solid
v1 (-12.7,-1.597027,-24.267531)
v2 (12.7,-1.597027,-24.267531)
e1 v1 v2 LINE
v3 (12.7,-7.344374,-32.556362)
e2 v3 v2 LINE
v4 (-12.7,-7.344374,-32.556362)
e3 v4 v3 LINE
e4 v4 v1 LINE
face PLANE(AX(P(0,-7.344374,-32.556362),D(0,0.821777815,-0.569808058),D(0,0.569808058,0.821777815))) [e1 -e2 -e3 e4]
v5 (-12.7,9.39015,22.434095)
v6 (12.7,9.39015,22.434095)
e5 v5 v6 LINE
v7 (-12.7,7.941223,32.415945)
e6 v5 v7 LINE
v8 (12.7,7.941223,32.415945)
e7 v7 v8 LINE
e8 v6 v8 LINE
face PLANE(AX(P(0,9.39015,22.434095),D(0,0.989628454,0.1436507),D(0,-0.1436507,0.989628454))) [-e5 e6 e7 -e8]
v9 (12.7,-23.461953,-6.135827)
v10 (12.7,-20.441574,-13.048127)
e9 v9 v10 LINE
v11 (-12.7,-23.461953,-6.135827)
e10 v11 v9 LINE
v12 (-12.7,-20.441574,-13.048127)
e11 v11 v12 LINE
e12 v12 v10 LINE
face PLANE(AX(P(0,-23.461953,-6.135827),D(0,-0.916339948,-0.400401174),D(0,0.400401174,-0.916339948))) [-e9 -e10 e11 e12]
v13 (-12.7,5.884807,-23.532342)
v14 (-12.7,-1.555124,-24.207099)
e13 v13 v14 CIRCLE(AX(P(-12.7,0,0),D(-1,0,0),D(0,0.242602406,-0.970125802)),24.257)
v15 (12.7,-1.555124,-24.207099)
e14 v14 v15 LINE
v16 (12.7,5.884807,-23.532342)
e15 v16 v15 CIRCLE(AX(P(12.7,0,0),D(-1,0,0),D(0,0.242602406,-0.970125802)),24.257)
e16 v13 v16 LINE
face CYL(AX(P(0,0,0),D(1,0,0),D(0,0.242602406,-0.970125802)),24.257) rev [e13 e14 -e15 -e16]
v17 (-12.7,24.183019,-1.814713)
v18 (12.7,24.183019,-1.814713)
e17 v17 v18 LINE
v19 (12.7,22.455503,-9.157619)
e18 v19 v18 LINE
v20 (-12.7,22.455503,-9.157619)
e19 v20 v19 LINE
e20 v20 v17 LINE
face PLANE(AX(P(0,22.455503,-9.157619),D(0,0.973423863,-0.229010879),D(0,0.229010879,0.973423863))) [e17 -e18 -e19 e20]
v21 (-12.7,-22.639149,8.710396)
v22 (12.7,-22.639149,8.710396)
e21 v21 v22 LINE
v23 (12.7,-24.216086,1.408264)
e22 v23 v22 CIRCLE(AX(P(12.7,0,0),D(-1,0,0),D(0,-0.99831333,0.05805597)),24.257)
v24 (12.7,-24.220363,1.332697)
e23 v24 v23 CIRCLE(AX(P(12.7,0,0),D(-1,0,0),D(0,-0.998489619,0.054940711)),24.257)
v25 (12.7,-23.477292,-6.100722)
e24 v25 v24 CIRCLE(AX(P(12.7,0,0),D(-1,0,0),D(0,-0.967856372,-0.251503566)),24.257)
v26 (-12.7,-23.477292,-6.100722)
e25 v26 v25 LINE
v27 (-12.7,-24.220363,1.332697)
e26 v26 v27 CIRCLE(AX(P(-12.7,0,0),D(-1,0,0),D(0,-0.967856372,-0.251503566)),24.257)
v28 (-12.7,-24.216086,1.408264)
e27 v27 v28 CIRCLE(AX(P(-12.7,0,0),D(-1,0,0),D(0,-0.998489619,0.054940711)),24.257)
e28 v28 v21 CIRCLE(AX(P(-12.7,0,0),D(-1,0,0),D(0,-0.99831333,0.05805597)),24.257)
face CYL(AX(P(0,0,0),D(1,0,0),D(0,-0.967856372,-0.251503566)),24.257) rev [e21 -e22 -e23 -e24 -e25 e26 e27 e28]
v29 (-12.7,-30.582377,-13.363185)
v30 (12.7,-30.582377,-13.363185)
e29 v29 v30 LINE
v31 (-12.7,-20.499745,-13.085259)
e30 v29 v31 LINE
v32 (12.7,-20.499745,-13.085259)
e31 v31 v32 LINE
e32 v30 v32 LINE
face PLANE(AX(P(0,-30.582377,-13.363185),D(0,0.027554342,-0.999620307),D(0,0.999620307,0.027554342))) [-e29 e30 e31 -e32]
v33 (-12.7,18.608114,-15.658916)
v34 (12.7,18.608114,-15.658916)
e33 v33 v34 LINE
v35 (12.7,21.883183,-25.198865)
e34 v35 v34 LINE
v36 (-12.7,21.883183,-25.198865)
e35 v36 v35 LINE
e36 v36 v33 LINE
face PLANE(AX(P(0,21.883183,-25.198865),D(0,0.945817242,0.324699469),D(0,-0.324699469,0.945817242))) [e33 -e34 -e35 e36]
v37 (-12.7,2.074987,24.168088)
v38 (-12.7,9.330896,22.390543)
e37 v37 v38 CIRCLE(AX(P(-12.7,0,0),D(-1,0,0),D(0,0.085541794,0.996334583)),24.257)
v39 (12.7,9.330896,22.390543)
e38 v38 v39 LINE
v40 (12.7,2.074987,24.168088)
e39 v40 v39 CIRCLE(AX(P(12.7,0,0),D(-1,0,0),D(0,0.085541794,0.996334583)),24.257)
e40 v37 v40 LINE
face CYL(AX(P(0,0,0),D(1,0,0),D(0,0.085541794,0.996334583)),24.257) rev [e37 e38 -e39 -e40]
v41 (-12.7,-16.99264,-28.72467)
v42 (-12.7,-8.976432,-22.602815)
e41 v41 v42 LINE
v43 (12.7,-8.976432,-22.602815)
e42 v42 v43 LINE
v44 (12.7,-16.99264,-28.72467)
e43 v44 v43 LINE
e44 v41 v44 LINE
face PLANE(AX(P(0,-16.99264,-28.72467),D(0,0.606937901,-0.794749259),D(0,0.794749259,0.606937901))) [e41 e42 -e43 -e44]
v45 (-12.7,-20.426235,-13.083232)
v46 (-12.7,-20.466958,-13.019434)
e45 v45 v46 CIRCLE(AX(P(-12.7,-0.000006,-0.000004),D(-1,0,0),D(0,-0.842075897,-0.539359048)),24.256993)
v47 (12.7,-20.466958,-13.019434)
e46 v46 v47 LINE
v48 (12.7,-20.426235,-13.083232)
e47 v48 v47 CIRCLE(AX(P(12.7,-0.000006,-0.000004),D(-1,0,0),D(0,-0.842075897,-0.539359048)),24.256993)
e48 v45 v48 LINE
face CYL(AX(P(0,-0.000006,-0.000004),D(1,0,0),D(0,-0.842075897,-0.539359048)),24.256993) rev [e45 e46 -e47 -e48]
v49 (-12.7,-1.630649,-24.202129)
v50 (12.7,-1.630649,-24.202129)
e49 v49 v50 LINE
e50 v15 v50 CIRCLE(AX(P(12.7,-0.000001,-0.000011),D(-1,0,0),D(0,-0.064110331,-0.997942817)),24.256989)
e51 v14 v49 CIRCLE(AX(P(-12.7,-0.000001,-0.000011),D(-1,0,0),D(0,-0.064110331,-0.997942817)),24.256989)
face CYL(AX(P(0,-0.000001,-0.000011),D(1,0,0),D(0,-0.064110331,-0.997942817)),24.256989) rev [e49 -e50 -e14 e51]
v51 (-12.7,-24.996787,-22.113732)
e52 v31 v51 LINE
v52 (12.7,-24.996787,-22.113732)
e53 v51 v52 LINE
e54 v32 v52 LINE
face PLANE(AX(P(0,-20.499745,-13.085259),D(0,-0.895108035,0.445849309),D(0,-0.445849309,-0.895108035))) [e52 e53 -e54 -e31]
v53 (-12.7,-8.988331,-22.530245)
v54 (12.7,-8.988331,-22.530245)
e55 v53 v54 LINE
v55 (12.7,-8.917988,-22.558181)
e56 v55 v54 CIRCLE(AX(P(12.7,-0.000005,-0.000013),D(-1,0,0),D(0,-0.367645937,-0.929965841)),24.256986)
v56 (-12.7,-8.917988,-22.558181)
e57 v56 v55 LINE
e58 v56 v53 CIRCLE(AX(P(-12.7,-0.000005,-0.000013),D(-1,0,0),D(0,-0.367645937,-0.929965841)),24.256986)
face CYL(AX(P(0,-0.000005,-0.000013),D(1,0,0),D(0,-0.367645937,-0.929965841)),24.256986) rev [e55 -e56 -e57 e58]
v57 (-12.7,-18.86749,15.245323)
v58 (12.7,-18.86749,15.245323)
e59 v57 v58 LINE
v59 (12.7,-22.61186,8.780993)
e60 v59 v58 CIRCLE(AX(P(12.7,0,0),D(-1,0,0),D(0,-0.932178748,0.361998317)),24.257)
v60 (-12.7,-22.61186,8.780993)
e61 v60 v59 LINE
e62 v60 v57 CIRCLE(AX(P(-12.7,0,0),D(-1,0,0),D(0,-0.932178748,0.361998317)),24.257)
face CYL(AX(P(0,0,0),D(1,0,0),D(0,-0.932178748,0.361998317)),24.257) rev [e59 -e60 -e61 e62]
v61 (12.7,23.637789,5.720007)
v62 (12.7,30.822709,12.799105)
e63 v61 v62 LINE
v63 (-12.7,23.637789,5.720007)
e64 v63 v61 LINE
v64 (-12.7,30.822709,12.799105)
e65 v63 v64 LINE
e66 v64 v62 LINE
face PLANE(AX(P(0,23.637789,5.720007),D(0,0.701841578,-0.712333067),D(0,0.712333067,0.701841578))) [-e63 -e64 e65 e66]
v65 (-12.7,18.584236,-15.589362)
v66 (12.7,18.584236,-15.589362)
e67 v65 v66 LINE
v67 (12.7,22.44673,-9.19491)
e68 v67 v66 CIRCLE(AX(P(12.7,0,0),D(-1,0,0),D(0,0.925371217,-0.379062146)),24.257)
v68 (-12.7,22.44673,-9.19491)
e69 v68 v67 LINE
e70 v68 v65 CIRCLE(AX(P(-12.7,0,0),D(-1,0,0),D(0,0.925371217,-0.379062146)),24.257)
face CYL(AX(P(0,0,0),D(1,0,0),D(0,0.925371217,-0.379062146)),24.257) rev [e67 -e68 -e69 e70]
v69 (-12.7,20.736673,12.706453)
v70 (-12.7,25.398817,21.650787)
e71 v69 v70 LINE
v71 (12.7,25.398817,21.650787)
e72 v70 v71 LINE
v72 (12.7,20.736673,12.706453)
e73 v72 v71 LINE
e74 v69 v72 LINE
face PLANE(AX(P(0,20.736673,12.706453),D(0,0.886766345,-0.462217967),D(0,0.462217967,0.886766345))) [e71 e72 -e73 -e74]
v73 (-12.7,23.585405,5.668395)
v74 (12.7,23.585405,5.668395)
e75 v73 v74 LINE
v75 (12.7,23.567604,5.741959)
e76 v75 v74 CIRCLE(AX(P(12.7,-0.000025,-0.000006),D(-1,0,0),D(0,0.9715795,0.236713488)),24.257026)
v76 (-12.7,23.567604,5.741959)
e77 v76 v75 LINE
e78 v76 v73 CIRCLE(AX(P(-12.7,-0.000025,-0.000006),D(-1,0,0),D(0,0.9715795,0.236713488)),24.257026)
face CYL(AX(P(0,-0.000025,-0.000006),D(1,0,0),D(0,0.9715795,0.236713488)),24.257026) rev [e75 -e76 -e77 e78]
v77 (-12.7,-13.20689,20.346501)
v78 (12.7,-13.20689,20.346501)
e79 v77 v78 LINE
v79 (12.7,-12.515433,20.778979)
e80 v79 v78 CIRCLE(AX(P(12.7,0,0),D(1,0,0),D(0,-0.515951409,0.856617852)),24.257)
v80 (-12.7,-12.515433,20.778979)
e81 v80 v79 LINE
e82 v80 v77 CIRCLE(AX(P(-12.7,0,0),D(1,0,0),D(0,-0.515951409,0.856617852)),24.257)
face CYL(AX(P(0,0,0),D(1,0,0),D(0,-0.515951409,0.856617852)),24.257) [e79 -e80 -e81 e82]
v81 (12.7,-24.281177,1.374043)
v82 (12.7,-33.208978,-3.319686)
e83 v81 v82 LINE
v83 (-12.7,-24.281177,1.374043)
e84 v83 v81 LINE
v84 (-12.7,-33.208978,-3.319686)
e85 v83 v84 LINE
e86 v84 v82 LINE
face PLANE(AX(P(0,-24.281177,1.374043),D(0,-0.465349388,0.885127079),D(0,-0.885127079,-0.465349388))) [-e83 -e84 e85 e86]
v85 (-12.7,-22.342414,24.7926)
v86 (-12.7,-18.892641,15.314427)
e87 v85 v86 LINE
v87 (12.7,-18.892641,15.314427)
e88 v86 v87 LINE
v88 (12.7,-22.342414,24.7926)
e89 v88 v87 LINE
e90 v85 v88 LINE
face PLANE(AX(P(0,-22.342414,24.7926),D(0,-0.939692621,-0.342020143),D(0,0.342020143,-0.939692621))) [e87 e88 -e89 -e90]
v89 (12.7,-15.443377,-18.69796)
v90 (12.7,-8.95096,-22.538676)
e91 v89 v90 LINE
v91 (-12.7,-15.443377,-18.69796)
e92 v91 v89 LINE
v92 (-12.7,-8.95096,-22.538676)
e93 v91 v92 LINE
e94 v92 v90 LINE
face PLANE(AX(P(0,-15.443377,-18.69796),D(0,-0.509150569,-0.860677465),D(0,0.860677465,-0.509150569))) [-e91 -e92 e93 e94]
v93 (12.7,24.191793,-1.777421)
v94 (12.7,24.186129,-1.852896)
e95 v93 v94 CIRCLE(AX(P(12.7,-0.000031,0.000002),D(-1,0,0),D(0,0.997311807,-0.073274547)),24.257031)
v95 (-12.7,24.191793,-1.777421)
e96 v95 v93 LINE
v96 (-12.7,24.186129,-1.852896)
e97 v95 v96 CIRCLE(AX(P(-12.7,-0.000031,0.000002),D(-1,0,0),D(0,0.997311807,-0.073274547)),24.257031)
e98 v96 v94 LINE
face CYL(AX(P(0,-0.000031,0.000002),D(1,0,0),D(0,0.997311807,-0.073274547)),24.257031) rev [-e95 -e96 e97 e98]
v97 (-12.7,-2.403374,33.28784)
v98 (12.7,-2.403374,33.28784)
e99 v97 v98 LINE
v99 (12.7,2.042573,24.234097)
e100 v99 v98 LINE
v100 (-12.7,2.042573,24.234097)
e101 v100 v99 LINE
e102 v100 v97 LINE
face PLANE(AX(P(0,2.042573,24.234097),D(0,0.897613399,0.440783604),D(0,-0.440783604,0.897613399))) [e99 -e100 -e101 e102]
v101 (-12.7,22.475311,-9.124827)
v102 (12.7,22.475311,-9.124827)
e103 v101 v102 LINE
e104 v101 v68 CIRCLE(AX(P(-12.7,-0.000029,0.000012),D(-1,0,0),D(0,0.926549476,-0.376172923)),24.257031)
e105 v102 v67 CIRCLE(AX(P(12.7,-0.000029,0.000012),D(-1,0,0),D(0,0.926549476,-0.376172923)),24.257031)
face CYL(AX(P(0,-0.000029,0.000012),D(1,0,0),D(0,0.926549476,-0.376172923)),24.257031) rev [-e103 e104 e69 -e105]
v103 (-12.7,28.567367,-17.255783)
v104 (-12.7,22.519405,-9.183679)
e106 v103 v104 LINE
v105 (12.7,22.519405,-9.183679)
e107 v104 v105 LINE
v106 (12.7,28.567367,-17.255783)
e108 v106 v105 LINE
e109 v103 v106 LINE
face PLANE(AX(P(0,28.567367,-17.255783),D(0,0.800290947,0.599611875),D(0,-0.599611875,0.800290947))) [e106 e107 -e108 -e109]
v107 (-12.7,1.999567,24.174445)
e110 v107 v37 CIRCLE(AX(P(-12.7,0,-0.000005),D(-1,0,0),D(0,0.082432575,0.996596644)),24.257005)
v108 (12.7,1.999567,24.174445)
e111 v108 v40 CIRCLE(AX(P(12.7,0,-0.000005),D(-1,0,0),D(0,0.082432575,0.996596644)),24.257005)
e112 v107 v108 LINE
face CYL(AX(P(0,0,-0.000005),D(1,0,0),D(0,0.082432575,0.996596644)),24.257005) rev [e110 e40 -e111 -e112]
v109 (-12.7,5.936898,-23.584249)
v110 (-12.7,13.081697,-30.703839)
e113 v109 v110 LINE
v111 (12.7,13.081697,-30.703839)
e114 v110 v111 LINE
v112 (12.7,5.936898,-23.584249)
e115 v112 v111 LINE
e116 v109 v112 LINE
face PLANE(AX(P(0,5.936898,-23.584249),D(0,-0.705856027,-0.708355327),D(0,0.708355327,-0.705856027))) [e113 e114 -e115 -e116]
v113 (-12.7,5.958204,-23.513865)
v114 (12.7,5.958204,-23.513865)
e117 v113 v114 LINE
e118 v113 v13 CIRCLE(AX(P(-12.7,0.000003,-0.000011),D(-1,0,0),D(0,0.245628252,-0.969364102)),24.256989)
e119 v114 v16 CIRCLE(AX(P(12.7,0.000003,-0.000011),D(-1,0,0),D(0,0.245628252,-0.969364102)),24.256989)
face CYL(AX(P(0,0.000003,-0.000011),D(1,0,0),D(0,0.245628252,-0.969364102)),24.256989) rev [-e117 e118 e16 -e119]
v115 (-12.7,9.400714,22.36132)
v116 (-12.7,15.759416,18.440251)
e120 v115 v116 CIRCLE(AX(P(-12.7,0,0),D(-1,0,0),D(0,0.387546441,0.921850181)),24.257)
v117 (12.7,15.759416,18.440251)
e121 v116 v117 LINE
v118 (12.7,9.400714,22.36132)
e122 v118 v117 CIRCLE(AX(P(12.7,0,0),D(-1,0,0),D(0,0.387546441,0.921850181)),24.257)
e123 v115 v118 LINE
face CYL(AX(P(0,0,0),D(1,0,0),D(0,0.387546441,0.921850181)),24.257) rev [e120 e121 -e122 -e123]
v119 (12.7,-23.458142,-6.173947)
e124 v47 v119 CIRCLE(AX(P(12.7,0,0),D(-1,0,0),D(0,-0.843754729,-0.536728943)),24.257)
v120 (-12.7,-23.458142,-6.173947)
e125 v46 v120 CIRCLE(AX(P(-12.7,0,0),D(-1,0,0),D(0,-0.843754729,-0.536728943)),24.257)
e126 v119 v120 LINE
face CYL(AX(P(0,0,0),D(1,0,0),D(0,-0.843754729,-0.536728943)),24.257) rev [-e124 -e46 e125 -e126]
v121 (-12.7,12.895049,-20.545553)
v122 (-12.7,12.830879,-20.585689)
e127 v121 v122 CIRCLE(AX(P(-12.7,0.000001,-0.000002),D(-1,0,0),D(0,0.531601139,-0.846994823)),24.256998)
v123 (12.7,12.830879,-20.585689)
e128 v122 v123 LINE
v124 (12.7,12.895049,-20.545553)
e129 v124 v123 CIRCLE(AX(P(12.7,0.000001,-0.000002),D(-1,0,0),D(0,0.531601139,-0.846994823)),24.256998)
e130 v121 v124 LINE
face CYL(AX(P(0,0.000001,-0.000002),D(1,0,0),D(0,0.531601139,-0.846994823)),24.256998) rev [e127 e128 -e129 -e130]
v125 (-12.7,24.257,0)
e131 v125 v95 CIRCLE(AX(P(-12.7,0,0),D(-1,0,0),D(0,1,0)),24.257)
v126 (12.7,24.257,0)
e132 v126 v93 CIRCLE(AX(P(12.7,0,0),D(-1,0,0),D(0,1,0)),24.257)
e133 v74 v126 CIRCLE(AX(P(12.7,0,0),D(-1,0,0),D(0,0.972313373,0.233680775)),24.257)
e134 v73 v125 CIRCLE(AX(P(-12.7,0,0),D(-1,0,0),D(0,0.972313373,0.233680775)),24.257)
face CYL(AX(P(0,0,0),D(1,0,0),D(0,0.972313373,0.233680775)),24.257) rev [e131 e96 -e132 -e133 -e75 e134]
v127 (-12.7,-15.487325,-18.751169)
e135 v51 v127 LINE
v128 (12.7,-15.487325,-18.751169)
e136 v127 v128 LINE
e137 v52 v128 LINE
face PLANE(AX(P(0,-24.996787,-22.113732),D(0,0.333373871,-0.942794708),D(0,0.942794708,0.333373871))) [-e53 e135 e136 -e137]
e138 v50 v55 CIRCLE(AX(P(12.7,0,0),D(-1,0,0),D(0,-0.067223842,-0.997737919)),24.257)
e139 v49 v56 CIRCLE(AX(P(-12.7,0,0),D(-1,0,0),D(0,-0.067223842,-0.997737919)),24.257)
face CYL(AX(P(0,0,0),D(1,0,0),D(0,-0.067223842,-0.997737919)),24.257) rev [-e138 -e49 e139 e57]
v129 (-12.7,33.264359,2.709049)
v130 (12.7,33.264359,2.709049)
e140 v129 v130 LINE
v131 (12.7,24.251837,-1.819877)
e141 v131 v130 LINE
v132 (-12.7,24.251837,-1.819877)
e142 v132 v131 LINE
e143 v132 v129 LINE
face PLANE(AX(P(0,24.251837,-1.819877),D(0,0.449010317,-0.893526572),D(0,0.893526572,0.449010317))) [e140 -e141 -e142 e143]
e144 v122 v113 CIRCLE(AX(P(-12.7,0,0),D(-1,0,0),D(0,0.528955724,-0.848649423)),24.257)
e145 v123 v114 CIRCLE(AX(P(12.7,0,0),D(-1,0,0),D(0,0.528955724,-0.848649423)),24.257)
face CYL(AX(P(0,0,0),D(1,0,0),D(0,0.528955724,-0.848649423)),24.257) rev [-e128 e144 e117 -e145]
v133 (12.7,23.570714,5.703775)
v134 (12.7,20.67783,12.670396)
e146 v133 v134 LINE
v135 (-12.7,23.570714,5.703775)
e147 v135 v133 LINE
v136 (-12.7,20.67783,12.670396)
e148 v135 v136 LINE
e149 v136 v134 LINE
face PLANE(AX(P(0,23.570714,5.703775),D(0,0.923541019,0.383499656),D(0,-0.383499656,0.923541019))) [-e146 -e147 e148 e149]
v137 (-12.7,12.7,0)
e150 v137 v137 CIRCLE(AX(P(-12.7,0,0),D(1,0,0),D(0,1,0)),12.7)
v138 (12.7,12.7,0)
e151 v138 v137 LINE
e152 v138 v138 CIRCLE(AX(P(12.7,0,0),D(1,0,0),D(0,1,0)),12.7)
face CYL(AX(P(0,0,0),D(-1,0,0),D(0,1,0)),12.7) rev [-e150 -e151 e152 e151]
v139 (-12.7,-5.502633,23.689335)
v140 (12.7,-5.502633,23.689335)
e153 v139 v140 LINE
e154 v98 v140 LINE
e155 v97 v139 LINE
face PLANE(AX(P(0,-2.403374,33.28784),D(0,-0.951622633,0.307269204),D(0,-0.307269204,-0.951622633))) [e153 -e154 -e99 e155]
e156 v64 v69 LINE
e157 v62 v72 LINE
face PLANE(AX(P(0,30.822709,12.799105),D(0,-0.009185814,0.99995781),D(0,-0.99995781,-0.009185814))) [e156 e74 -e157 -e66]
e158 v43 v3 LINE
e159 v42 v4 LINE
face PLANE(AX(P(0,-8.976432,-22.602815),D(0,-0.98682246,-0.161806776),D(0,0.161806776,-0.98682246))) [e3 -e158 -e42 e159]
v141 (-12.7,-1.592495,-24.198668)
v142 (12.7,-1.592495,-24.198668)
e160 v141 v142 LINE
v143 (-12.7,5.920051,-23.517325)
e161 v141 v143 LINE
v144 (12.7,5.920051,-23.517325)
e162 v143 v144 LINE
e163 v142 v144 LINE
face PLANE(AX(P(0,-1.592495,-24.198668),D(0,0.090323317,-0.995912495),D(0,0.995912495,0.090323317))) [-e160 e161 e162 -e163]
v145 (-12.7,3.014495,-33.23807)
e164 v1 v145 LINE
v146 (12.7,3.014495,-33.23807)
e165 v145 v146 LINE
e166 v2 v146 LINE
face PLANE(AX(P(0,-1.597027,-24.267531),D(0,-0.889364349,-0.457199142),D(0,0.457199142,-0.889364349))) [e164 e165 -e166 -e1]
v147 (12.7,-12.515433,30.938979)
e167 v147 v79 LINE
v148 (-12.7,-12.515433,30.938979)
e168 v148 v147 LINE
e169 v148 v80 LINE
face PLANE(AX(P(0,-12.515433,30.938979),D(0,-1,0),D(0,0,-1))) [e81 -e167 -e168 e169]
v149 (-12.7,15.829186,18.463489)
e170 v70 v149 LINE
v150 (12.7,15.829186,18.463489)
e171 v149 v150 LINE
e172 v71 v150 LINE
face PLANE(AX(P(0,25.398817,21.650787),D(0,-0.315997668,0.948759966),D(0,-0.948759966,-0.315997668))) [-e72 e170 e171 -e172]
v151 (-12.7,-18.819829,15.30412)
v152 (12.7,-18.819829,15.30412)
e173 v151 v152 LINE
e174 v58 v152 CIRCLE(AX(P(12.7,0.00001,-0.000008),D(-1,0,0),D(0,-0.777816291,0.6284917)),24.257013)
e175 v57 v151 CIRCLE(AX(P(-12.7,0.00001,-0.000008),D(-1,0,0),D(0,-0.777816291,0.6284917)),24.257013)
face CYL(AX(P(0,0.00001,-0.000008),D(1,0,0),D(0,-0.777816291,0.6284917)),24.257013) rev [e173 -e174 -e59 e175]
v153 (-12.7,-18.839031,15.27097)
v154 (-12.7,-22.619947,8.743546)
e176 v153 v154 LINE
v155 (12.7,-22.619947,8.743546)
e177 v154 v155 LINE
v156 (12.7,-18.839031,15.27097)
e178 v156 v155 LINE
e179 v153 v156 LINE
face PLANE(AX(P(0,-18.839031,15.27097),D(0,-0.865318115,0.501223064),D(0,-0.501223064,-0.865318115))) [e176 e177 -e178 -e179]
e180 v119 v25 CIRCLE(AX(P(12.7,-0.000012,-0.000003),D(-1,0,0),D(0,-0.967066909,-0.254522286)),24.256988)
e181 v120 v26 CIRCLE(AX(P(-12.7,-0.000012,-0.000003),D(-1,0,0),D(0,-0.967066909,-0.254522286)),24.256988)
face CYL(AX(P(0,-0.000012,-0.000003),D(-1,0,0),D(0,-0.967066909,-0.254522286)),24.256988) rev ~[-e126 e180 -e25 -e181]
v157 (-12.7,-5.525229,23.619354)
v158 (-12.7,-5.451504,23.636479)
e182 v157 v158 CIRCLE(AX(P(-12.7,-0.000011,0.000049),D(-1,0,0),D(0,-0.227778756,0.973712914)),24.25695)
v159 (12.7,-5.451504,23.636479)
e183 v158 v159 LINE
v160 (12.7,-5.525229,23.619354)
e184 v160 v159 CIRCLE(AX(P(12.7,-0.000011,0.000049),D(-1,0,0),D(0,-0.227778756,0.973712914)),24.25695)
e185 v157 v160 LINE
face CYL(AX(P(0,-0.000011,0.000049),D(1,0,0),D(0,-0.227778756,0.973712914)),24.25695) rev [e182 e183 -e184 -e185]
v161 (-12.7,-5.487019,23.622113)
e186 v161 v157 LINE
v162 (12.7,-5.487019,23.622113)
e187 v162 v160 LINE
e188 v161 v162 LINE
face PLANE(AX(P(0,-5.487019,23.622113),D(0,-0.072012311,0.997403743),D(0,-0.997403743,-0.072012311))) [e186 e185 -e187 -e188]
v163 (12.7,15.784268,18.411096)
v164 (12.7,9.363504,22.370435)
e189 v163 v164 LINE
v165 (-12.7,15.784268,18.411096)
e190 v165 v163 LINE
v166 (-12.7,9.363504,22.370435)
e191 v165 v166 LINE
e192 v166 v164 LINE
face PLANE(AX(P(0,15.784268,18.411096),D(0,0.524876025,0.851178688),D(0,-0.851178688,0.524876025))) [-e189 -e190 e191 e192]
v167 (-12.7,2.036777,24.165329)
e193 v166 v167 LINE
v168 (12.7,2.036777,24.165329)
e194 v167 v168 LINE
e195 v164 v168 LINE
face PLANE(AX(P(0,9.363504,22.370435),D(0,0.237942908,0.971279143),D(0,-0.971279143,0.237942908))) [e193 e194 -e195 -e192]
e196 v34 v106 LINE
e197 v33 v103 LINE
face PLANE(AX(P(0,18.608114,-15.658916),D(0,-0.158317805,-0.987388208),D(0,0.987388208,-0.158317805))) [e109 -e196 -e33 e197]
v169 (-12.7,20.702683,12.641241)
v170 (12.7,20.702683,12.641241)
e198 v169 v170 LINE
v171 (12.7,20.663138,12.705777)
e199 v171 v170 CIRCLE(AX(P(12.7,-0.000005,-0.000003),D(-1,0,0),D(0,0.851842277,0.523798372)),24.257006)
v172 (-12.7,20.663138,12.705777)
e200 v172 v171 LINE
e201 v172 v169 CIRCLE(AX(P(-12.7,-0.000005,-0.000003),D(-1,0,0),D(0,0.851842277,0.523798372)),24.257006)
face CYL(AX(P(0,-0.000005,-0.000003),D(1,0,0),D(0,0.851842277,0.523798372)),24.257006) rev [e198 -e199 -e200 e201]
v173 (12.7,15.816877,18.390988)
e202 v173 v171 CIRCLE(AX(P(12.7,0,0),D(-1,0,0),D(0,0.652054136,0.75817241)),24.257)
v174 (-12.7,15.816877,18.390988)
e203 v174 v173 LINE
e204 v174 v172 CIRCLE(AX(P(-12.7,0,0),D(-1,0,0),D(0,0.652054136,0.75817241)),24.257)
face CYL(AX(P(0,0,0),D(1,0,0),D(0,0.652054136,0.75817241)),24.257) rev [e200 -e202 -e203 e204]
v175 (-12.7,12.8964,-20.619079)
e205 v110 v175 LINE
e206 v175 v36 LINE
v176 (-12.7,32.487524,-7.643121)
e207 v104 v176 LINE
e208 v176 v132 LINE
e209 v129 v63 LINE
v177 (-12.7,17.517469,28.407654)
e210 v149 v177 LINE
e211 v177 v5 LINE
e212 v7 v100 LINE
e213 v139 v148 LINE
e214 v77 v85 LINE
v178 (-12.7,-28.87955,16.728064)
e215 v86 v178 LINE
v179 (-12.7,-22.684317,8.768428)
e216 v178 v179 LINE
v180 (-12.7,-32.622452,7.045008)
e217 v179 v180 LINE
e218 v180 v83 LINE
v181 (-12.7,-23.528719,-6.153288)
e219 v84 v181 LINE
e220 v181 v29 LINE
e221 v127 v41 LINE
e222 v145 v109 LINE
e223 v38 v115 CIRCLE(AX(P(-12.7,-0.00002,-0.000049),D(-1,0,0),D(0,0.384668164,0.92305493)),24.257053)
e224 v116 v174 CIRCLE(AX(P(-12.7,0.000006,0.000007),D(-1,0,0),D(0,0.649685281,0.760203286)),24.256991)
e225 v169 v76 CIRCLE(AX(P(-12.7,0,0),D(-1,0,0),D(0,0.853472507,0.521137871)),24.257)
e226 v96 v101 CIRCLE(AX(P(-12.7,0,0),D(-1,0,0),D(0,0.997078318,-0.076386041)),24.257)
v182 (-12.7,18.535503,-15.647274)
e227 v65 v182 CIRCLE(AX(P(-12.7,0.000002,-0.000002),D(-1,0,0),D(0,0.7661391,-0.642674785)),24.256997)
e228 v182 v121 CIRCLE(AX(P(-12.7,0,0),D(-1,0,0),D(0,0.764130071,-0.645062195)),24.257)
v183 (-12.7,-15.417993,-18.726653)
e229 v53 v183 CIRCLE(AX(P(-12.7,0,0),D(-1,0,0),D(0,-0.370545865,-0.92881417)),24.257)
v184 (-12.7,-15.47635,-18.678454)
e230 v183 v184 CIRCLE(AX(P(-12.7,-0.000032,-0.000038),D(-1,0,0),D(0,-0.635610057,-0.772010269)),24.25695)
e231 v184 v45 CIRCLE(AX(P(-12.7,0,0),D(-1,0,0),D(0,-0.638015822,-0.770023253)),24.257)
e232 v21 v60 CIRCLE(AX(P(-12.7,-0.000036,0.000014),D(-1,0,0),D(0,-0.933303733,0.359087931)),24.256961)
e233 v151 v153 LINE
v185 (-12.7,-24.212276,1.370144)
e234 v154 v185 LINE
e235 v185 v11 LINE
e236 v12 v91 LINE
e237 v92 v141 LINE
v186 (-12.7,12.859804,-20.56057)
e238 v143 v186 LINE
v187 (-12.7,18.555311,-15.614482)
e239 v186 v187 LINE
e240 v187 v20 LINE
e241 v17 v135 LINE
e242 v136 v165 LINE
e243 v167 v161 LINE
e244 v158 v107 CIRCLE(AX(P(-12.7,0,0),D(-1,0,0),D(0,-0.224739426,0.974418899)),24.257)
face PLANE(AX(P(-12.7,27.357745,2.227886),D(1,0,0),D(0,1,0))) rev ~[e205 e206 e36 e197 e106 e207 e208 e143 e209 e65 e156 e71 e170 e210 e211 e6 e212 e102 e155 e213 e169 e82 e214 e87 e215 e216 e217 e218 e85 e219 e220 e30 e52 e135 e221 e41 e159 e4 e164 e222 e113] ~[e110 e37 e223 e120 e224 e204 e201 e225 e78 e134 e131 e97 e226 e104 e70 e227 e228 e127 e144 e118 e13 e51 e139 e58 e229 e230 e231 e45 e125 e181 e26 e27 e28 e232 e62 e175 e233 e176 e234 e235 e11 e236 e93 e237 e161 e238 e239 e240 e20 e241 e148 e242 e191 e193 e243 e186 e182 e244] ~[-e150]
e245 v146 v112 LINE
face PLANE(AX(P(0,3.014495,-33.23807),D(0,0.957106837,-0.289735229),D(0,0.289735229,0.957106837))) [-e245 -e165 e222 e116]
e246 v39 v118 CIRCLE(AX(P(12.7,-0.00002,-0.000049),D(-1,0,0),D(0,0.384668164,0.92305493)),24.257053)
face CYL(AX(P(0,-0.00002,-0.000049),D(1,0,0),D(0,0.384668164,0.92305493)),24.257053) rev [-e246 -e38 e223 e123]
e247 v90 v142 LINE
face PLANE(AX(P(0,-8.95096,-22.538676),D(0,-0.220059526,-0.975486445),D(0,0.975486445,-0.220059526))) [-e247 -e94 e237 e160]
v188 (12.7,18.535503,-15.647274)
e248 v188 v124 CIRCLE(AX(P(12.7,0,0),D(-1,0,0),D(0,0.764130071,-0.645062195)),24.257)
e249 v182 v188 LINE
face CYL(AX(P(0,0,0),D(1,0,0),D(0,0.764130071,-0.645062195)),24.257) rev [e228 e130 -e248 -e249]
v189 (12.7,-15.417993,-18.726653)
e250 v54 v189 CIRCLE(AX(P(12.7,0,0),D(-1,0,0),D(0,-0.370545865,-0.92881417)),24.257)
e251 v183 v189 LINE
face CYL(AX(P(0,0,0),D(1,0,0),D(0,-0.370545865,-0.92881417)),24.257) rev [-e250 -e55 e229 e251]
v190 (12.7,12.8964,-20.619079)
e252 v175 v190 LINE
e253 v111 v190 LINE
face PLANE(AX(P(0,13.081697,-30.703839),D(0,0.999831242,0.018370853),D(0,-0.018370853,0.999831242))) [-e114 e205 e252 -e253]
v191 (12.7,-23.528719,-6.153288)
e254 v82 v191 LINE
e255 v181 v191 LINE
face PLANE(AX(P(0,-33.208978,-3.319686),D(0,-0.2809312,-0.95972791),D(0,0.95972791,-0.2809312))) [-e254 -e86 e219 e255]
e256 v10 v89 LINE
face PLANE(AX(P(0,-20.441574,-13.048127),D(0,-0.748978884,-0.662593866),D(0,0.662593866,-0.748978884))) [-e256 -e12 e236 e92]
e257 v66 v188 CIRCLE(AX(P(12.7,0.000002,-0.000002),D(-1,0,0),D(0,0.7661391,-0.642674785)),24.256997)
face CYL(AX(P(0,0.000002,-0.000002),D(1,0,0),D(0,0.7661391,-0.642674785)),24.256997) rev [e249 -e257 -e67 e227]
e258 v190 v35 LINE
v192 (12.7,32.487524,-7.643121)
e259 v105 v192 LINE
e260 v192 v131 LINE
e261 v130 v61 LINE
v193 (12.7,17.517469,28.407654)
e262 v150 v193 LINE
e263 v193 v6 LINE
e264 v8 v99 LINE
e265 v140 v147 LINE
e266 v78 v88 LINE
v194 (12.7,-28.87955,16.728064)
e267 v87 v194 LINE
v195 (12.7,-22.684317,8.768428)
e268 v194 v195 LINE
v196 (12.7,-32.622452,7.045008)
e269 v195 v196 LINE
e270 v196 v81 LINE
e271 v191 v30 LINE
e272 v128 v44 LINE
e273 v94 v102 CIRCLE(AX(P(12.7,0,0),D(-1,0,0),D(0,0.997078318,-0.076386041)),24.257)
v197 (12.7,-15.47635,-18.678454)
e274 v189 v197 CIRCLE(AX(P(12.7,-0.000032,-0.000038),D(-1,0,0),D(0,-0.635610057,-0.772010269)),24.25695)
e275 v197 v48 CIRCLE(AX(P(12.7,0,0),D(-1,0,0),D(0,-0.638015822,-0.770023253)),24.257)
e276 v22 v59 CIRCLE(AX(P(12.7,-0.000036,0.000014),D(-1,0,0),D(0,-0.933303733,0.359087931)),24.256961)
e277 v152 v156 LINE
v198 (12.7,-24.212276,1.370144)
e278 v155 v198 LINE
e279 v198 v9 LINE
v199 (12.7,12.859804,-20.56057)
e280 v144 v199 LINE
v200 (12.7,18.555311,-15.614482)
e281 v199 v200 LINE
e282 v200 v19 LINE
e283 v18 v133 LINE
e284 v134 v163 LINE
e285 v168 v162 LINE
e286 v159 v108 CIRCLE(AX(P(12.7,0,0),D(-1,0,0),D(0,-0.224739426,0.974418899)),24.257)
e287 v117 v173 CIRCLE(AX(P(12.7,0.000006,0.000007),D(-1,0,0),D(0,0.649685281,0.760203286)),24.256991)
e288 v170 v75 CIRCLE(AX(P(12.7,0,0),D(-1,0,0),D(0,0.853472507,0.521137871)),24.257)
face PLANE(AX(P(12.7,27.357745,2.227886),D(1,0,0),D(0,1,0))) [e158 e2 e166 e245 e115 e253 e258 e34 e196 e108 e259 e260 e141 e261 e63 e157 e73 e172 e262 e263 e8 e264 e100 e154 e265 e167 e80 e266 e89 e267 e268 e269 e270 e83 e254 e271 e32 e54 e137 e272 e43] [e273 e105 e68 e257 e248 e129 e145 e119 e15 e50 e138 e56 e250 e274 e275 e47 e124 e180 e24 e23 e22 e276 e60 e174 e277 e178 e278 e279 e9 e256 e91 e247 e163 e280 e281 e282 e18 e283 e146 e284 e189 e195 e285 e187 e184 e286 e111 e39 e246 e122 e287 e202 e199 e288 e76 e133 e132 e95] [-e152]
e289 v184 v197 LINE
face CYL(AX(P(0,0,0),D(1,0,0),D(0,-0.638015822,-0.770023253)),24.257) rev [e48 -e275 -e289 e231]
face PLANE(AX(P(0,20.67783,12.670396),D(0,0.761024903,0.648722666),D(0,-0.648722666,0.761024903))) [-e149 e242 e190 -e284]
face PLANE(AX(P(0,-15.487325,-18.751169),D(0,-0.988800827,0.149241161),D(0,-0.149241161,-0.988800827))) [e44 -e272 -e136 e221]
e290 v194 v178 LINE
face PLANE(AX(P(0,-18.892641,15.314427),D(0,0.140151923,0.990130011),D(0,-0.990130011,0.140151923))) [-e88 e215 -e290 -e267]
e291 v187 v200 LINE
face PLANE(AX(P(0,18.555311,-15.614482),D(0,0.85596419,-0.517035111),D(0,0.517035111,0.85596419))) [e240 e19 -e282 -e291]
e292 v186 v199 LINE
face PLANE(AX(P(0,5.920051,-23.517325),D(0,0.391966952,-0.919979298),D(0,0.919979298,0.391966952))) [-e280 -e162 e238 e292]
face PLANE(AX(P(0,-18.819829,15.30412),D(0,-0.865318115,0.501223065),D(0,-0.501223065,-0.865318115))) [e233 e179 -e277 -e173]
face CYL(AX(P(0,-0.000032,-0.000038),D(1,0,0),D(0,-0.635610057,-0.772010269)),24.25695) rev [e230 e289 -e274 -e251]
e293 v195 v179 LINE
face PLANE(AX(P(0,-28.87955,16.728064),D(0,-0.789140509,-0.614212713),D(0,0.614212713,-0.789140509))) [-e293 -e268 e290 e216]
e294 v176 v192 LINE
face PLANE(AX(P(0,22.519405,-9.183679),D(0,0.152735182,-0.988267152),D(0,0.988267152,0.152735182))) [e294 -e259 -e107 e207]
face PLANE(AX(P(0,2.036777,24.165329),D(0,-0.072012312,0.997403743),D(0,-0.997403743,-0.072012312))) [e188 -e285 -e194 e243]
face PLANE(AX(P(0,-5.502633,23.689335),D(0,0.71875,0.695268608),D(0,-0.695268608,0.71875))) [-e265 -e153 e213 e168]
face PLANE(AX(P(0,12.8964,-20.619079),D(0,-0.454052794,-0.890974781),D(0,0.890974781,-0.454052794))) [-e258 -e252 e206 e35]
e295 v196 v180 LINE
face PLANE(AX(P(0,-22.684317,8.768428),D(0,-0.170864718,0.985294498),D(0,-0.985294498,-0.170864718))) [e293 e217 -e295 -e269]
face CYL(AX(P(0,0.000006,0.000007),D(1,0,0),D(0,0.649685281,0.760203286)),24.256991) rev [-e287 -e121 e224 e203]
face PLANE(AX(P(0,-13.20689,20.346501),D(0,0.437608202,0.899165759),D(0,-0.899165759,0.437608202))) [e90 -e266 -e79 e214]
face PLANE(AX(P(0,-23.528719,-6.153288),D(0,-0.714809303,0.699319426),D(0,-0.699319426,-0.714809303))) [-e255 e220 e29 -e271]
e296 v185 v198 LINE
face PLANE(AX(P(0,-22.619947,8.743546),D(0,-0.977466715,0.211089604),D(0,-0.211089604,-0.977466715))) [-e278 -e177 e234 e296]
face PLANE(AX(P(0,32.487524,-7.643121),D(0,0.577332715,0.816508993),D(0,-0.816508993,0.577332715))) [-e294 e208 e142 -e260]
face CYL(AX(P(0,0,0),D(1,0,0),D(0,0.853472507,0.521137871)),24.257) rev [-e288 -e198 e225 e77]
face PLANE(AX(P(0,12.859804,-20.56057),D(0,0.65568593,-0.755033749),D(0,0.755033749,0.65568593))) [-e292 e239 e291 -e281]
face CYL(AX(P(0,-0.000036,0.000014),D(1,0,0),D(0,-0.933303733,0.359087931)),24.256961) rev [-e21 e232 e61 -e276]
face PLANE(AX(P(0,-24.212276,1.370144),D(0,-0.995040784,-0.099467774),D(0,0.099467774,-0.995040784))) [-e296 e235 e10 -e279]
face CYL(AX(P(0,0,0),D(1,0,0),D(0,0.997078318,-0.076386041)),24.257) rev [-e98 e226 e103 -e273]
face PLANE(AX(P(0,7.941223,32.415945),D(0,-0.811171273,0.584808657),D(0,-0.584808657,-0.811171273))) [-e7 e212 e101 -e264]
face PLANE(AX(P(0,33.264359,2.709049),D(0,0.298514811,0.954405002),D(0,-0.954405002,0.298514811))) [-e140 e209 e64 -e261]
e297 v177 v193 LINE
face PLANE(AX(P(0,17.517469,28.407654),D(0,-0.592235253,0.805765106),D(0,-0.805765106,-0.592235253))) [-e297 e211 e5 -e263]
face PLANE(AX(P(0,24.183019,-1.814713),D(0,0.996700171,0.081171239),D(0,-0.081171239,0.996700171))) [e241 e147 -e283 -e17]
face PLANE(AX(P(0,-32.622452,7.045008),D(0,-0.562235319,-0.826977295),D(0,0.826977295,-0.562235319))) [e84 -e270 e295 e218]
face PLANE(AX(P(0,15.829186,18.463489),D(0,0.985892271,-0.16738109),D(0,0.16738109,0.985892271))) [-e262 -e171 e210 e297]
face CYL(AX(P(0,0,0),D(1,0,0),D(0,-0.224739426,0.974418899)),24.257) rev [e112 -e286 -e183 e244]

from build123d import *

# Parameters (mm, degrees)
F0_R     = 12.7
F1_DEPTH = 12.7


with BuildPart() as f1:
    # F0 (on Right) → F1 (new body, symmetric)
    with BuildSketch(Plane.YZ):
        with BuildLine():
            ThreePointArc((23.5854054871, 5.6683945708), (24.0885162463, 2.8540206814), (24.257, 0))
            ThreePointArc((24.257, 0), (24.2406926461, -0.8893081786), (24.1917925105, -1.7774206395))
            Line((24.1917925105, -1.7774206395), (24.2518372175, -1.8198767227))
            Line((24.2518372175, -1.8198767227), (33.2643587406, 2.7090486284))
            Line((33.2643587406, 2.7090486284), (23.6377892706, 5.7200068277))
            Line((23.6377892706, 5.7200068277), (23.5854054871, 5.6683945708))
        make_face()
        with BuildLine():
            ThreePointArc((23.5676039215, 5.7419591081), (23.5765333967, 5.7051837826), (23.5854054871, 5.6683945708))
            Line((23.5854054871, 5.6683945708), (23.6377892706, 5.7200068277))
            Line((23.6377892706, 5.7200068277), (23.5676039215, 5.7419591081))
        make_face()
        with BuildLine():
            Line((24.2518372175, -1.8198767227), (24.1917925105, -1.7774206395))
            ThreePointArc((24.1917925105, -1.7774206395), (24.1889900762, -1.8151606243), (24.1861287664, -1.8528961911))
            Line((24.1861287664, -1.8528961911), (24.2518372175, -1.8198767227))
        make_face()
        with BuildLine():
            ThreePointArc((20.7026825957, 12.6412413291), (22.402334496, 9.3025511624), (23.5676039215, 5.7419591081))
            Line((23.5676039215, 5.7419591081), (23.6377892706, 5.7200068277))
            Line((23.6377892706, 5.7200068277), (30.8227094509, 12.7991050077))
            Line((30.8227094509, 12.7991050077), (20.7366733326, 12.7064526444))
            Line((20.7366733326, 12.7064526444), (20.7026825957, 12.6412413291))
        make_face()
        with BuildLine():
            Line((24.1830190921, -1.814712557), (23.5707135958, 5.7037754741))
            Line((23.5707135958, 5.7037754741), (20.6778299975, 12.6703962317))
            Line((20.6778299975, 12.6703962317), (15.7842684775, 18.4110961842))
            Line((15.7842684775, 18.4110961842), (9.3635042744, 22.37043544))
            Line((9.3635042744, 22.37043544), (2.0367767147, 24.1653291864))
            Line((2.0367767147, 24.1653291864), (-5.4870186323, 23.622112958))
            Line((-5.4870186323, 23.622112958), (-12.5154333238, 20.778979227))
            ThreePointArc((-12.5154333238, 20.778979227), (-12.8629795573, 20.5656462556), (-13.2068903428, 20.346500841))
            Line((-13.2068903428, 20.346500841), (-18.839030758, 15.270969654))
            Line((-18.839030758, 15.270969654), (-22.6199467454, 8.7435463805))
            Line((-22.6199467454, 8.7435463805), (-24.2122758236, 1.370143611))
            Line((-24.2122758236, 1.370143611), (-23.4619526177, -6.1358270378))
            Line((-23.4619526177, -6.1358270378), (-20.4415744492, -13.0481273795))
            Line((-20.4415744492, -13.0481273795), (-15.4433772015, -18.6979596396))
            Line((-15.4433772015, -18.6979596396), (-8.9509601151, -22.5386758061))
            Line((-8.9509601151, -22.5386758061), (-1.5924952722, -24.1986684113))
            Line((-1.5924952722, -24.1986684113), (5.9200510257, -23.517325314))
            Line((5.9200510257, -23.517325314), (12.859804367, -20.5605696837))
            Line((12.859804367, -20.5605696837), (18.5553107694, -15.614481622))
            Line((18.5553107694, -15.614481622), (22.4555030315, -9.1576185591))
            Line((22.4555030315, -9.1576185591), (24.1830190921, -1.814712557))
        make_face()
        Circle(F0_R, mode=Mode.SUBTRACT)
        with BuildLine():
            Line((24.2518372175, -1.8198767227), (24.1861287664, -1.8528961911))
            ThreePointArc((24.1861287664, -1.8528961911), (23.6123426483, -5.5551168898), (22.4753106729, -9.1248265276))
            Line((22.4753106729, -9.1248265276), (22.5194051282, -9.1836785866))
            Line((22.5194051282, -9.1836785866), (32.4875238799, -7.6431210279))
            Line((32.4875238799, -7.6431210279), (24.2518372175, -1.8198767227))
        make_face()
        with BuildLine():
            ThreePointArc((20.6631381062, 12.705777135), (20.6829355219, 12.6735246556), (20.7026825957, 12.6412413291))
            Line((20.7026825957, 12.6412413291), (20.7366733326, 12.7064526444))
            Line((20.7366733326, 12.7064526444), (20.6631381062, 12.705777135))
        make_face()
        with BuildLine():
            Line((22.5194051282, -9.1836785866), (22.4753106729, -9.1248265276))
            ThreePointArc((22.4753106729, -9.1248265276), (22.4610474779, -9.1598796496), (22.4467296132, -9.1949104766))
            Line((22.4467296132, -9.1949104766), (22.5194051282, -9.1836785866))
        make_face()
        with BuildLine():
            ThreePointArc((15.8168771762, 18.3909881571), (18.460181062, 15.7360657141), (20.6631381062, 12.705777135))
            Line((20.6631381062, 12.705777135), (20.7366733326, 12.7064526444))
            Line((20.7366733326, 12.7064526444), (25.3988171361, 21.6507873986))
            Line((25.3988171361, 21.6507873986), (15.8291861018, 18.4634890273))
            Line((15.8291861018, 18.4634890273), (15.8168771762, 18.3909881571))
        make_face()
        with BuildLine():
            Line((22.5194051282, -9.1836785866), (22.4467296132, -9.1949104766))
            ThreePointArc((22.4467296132, -9.1949104766), (20.7631233508, -12.5417206841), (18.5842361506, -15.5893622608))
            Line((18.5842361506, -15.5893622608), (18.608114007, -15.6589160803))
            Line((18.608114007, -15.6589160803), (28.5673673184, -17.2557825493))
            Line((28.5673673184, -17.2557825493), (22.5194051282, -9.1836785866))
        make_face()
        with BuildLine():
            ThreePointArc((15.7594158792, 18.4402510868), (15.7881657418, 18.4156420336), (15.8168771762, 18.3909881571))
            Line((15.8168771762, 18.3909881571), (15.8291861018, 18.4634890273))
            Line((15.8291861018, 18.4634890273), (15.7594158792, 18.4402510868))
        make_face()
        with BuildLine():
            ThreePointArc((9.4007140276, 22.3613198352), (12.7319177371, 20.6470414282), (15.7594158792, 18.4402510868))
            Line((15.7594158792, 18.4402510868), (15.8291861018, 18.4634890273))
            Line((15.8291861018, 18.4634890273), (17.5174690492, 28.4076536343))
            Line((17.5174690492, 28.4076536343), (9.3901501952, 22.4340954581))
            Line((9.3901501952, 22.4340954581), (9.4007140276, 22.3613198352))
        make_face()
        with BuildLine():
            Line((18.608114007, -15.6589160803), (18.5842361506, -15.5893622608))
            ThreePointArc((18.5842361506, -15.5893622608), (18.5598922266, -15.6183369645), (18.5355031281, -15.6472736535))
            Line((18.5355031281, -15.6472736535), (18.608114007, -15.6589160803))
        make_face()
        with BuildLine():
            Line((18.608114007, -15.6589160803), (18.5355031281, -15.6472736535))
            ThreePointArc((18.5355031281, -15.6472736535), (15.9049735961, -18.3148536415), (12.8950488205, -20.5455534099))
            Line((12.8950488205, -20.5455534099), (12.8963997824, -20.6190793287))
            Line((12.8963997824, -20.6190793287), (21.8831827577, -25.1988654365))
            Line((21.8831827577, -25.1988654365), (18.608114007, -15.6589160803))
        make_face()
        with BuildLine():
            ThreePointArc((9.3308955757, 22.3905434672), (9.3658161997, 22.3759588825), (9.4007140276, 22.3613198352))
            Line((9.4007140276, 22.3613198352), (9.3901501952, 22.4340954581))
            Line((9.3901501952, 22.4340954581), (9.3308955757, 22.3905434672))
        make_face()
        with BuildLine():
            ThreePointArc((2.0749873027, 24.1680879818), (5.7717811102, 23.5603181603), (9.3308955757, 22.3905434672))
            Line((9.3308955757, 22.3905434672), (9.3901501952, 22.4340954581))
            Line((9.3901501952, 22.4340954581), (7.9412229206, 32.4159449256))
            Line((7.9412229206, 32.4159449256), (2.042572813, 24.2340969713))
            Line((2.042572813, 24.2340969713), (2.0749873027, 24.1680879818))
        make_face()
        with BuildLine():
            Line((12.8963997824, -20.6190793287), (12.8950488205, -20.5455534099))
            ThreePointArc((12.8950488205, -20.5455534099), (12.8629795573, -20.5656462556), (12.8308789858, -20.5856890449))
            Line((12.8308789858, -20.5856890449), (12.8963997824, -20.6190793287))
        make_face()
        with BuildLine():
            Line((12.8963997824, -20.6190793287), (12.8308789858, -20.5856890449))
            ThreePointArc((12.8308789858, -20.5856890449), (9.5079423667, -22.3159378237), (5.9582044839, -23.5138650232))
            Line((5.9582044839, -23.5138650232), (5.9368978393, -23.5842490607))
            Line((5.9368978393, -23.5842490607), (13.0816966908, -30.7038388248))
            Line((13.0816966908, -30.7038388248), (12.8963997824, -20.6190793287))
        make_face()
        with BuildLine():
            ThreePointArc((1.9995669615, 24.1744447913), (2.0372796114, 24.1712958028), (2.0749873027, 24.1680879818))
            Line((2.0749873027, 24.1680879818), (2.042572813, 24.2340969713))
            Line((2.042572813, 24.2340969713), (1.9995669615, 24.1744447913))
        make_face()
        with BuildLine():
            Line((-12.5154333238, 20.778979227), (-5.4870186323, 23.622112958))
            Line((-5.4870186323, 23.622112958), (-5.5252292203, 23.6193541627))
            ThreePointArc((-5.5252292203, 23.6193541627), (-9.1314461451, 22.4726220166), (-12.5154333238, 20.778979227))
        make_face()
        with BuildLine():
            ThreePointArc((-5.4515042648, 23.636479227), (-1.7468026573, 24.1940225981), (1.9995669615, 24.1744447913))
            Line((1.9995669615, 24.1744447913), (2.042572813, 24.2340969713))
            Line((2.042572813, 24.2340969713), (-2.4033741119, 33.2878401188))
            Line((-2.4033741119, 33.2878401188), (-5.5026331565, 23.689334901))
            Line((-5.5026331565, 23.689334901), (-5.4515042648, 23.636479227))
        make_face()
        with BuildLine():
            Line((5.9368978393, -23.5842490607), (5.9582044839, -23.5138650232))
            ThreePointArc((5.9582044839, -23.5138650232), (5.9215127345, -23.523131933), (5.8848065722, -23.5323415879))
            Line((5.8848065722, -23.5323415879), (5.9368978393, -23.5842490607))
        make_face()
        with BuildLine():
            Line((5.9368978393, -23.5842490607), (5.8848065722, -23.5323415879))
            ThreePointArc((5.8848065722, -23.5323415879), (2.1909727116, -24.1578493988), (-1.555124337, -24.2070989029))
            Line((-1.555124337, -24.2070989029), (-1.5970270694, -24.2675310703))
            Line((-1.5970270694, -24.2675310703), (3.0144945526, -33.2380704838))
            Line((3.0144945526, -33.2380704838), (5.9368978393, -23.5842490607))
        make_face()
        with BuildLine():
            ThreePointArc((-5.5252292203, 23.6193541627), (-5.4883734219, 23.6279454499), (-5.4515042648, 23.636479227))
            Line((-5.4515042648, 23.636479227), (-5.5026331565, 23.689334901))
            Line((-5.5026331565, 23.689334901), (-5.5252292203, 23.6193541627))
        make_face()
        with BuildLine():
            Line((-12.5154333238, 30.938979227), (-12.5154333238, 20.778979227))
            ThreePointArc((-12.5154333238, 20.778979227), (-9.1314461451, 22.4726220166), (-5.5252292203, 23.6193541627))
            Line((-5.5252292203, 23.6193541627), (-5.5026331565, 23.689334901))
            Line((-5.5026331565, 23.689334901), (-12.5154333238, 30.938979227))
        make_face()
        with BuildLine():
            Line((-1.5970270694, -24.2675310703), (-1.555124337, -24.2070989029))
            ThreePointArc((-1.555124337, -24.2070989029), (-1.5928884722, -24.2046432594), (-1.6306487304, -24.2021287022))
            Line((-1.6306487304, -24.2021287022), (-1.5970270694, -24.2675310703))
        make_face()
        with BuildLine():
            Line((-1.5970270694, -24.2675310703), (-1.6306487304, -24.2021287022))
            ThreePointArc((-1.6306487304, -24.2021287022), (-5.3379839233, -23.662374704), (-8.9179875178, -22.5581813902))
            Line((-8.9179875178, -22.5581813902), (-8.9764320503, -22.6028145892))
            Line((-8.9764320503, -22.6028145892), (-7.3443742013, -32.5563615056))
            Line((-7.3443742013, -32.5563615056), (-1.5970270694, -24.2675310703))
        make_face()
        with BuildLine():
            Line((-18.839030758, 15.270969654), (-13.2068903428, 20.346500841))
            ThreePointArc((-13.2068903428, 20.346500841), (-16.2106164918, 18.0448874188), (-18.819828877, 15.3041200348))
            Line((-18.819828877, 15.3041200348), (-18.839030758, 15.270969654))
        make_face()
        with BuildLine():
            ThreePointArc((-18.819828877, 15.3041200348), (-16.2106164918, 18.0448874188), (-13.2068903428, 20.346500841))
            Line((-13.2068903428, 20.346500841), (-22.3424144499, 24.7926001751))
            Line((-22.3424144499, 24.7926001751), (-18.8926413835, 15.3144265731))
            Line((-18.8926413835, 15.3144265731), (-18.819828877, 15.3041200348))
        make_face()
        with BuildLine():
            Line((-8.9764320503, -22.6028145892), (-8.9179875178, -22.5581813902))
            ThreePointArc((-8.9179875178, -22.5581813902), (-8.95317018, -22.5442407885), (-8.9883310503, -22.5302453145))
            Line((-8.9883310503, -22.5302453145), (-8.9764320503, -22.6028145892))
        make_face()
        with BuildLine():
            Line((-8.9764320503, -22.6028145892), (-8.9883310503, -22.5302453145))
            ThreePointArc((-8.9883310503, -22.5302453145), (-12.3504653486, -20.8774532612), (-15.4179931969, -18.7266530587))
            Line((-15.4179931969, -18.7266530587), (-15.4873247444, -18.7511688161))
            Line((-15.4873247444, -18.7511688161), (-16.9926399899, -28.7246704605))
            Line((-16.9926399899, -28.7246704605), (-8.9764320503, -22.6028145892))
        make_face()
        with BuildLine():
            ThreePointArc((-18.8674897937, 15.2453231479), (-18.8436822679, 15.2747401806), (-18.819828877, 15.3041200348))
            Line((-18.819828877, 15.3041200348), (-18.8926413835, 15.3144265731))
            Line((-18.8926413835, 15.3144265731), (-18.8674897937, 15.2453231479))
        make_face()
        with BuildLine():
            Line((-15.4873247444, -18.7511688161), (-15.4179931969, -18.7266530587))
            ThreePointArc((-15.4179931969, -18.7266530587), (-15.447190297, -18.702576318), (-15.4763497988, -18.6784540555))
            Line((-15.4763497988, -18.6784540555), (-15.4873247444, -18.7511688161))
        make_face()
        with BuildLine():
            Line((-15.4873247444, -18.7511688161), (-15.4763497988, -18.6784540555))
            ThreePointArc((-15.4763497988, -18.6784540555), (-18.167980796, -16.072539401), (-20.4262350599, -13.0832324093))
            Line((-20.4262350599, -13.0832324093), (-20.499745467, -13.0852587096))
            Line((-20.499745467, -13.0852587096), (-24.9967874323, -22.1137315928))
            Line((-24.9967874323, -22.1137315928), (-15.4873247444, -18.7511688161))
        make_face()
        with BuildLine():
            ThreePointArc((-22.611859892, 8.7809931799), (-20.9900215119, 12.158167869), (-18.8674897937, 15.2453231479))
            Line((-18.8674897937, 15.2453231479), (-18.8926413835, 15.3144265731))
            Line((-18.8926413835, 15.3144265731), (-28.8795497873, 16.7280635752))
            Line((-28.8795497873, 16.7280635752), (-22.684316803, 8.7684280741))
            Line((-22.684316803, 8.7684280741), (-22.611859892, 8.7809931799))
        make_face()
        with BuildLine():
            Line((-20.499745467, -13.0852587096), (-20.4262350599, -13.0832324093))
            ThreePointArc((-20.4262350599, -13.0832324093), (-20.4466216402, -13.0513490683), (-20.4669584538, -13.0194339605))
            Line((-20.4669584538, -13.0194339605), (-20.499745467, -13.0852587096))
        make_face()
        with BuildLine():
            Line((-20.499745467, -13.0852587096), (-20.4669584538, -13.0194339605))
            ThreePointArc((-20.4669584538, -13.0194339605), (-22.2276581111, -9.7125312815), (-23.4581420023, -6.1739471007))
            Line((-23.4581420023, -6.1739471007), (-23.5287187891, -6.1532878897))
            Line((-23.5287187891, -6.1532878897), (-30.5823773793, -13.3631845278))
            Line((-30.5823773793, -13.3631845278), (-20.499745467, -13.0852587096))
        make_face()
        with BuildLine():
            ThreePointArc((-22.6391486264, 8.7103959997), (-22.6255317943, 8.7457052333), (-22.611859892, 8.7809931799))
            Line((-22.611859892, 8.7809931799), (-22.684316803, 8.7684280741))
            Line((-22.684316803, 8.7684280741), (-22.6391486264, 8.7103959997))
        make_face()
        with BuildLine():
            ThreePointArc((-24.2160864391, 1.4082636739), (-23.7104101058, 5.1204005326), (-22.6391486264, 8.7103959997))
            Line((-22.6391486264, 8.7103959997), (-22.684316803, 8.7684280741))
            Line((-22.684316803, 8.7684280741), (-32.6224519942, 7.0450076493))
            Line((-32.6224519942, 7.0450076493), (-24.2811772055, 1.3740426575))
            Line((-24.2811772055, 1.3740426575), (-24.2160864391, 1.4082636739))
        make_face()
        with BuildLine():
            Line((-23.5287187891, -6.1532878897), (-23.4581420023, -6.1739471007))
            ThreePointArc((-23.4581420023, -6.1739471007), (-23.4677455647, -6.1373420234), (-23.477292007, -6.1007220079))
            Line((-23.477292007, -6.1007220079), (-23.5287187891, -6.1532878897))
        make_face()
        with BuildLine():
            Line((-23.5287187891, -6.1532878897), (-23.477292007, -6.1007220079))
            ThreePointArc((-23.477292007, -6.1007220079), (-24.1367042992, -2.4127897905), (-24.2203626771, 1.3326968116))
            Line((-24.2203626771, 1.3326968116), (-24.2811772055, 1.3740426575))
            Line((-24.2811772055, 1.3740426575), (-33.2089775666, -3.319686111))
            Line((-33.2089775666, -3.319686111), (-23.5287187891, -6.1532878897))
        make_face()
        with BuildLine():
            ThreePointArc((-24.2203626771, 1.3326968116), (-24.2182540315, 1.3704819106), (-24.2160864391, 1.4082636739))
            Line((-24.2160864391, 1.4082636739), (-24.2811772055, 1.3740426575))
            Line((-24.2811772055, 1.3740426575), (-24.2203626771, 1.3326968116))
        make_face()
    extrude(amount=F1_DEPTH, both=True)


solid = f1.part
